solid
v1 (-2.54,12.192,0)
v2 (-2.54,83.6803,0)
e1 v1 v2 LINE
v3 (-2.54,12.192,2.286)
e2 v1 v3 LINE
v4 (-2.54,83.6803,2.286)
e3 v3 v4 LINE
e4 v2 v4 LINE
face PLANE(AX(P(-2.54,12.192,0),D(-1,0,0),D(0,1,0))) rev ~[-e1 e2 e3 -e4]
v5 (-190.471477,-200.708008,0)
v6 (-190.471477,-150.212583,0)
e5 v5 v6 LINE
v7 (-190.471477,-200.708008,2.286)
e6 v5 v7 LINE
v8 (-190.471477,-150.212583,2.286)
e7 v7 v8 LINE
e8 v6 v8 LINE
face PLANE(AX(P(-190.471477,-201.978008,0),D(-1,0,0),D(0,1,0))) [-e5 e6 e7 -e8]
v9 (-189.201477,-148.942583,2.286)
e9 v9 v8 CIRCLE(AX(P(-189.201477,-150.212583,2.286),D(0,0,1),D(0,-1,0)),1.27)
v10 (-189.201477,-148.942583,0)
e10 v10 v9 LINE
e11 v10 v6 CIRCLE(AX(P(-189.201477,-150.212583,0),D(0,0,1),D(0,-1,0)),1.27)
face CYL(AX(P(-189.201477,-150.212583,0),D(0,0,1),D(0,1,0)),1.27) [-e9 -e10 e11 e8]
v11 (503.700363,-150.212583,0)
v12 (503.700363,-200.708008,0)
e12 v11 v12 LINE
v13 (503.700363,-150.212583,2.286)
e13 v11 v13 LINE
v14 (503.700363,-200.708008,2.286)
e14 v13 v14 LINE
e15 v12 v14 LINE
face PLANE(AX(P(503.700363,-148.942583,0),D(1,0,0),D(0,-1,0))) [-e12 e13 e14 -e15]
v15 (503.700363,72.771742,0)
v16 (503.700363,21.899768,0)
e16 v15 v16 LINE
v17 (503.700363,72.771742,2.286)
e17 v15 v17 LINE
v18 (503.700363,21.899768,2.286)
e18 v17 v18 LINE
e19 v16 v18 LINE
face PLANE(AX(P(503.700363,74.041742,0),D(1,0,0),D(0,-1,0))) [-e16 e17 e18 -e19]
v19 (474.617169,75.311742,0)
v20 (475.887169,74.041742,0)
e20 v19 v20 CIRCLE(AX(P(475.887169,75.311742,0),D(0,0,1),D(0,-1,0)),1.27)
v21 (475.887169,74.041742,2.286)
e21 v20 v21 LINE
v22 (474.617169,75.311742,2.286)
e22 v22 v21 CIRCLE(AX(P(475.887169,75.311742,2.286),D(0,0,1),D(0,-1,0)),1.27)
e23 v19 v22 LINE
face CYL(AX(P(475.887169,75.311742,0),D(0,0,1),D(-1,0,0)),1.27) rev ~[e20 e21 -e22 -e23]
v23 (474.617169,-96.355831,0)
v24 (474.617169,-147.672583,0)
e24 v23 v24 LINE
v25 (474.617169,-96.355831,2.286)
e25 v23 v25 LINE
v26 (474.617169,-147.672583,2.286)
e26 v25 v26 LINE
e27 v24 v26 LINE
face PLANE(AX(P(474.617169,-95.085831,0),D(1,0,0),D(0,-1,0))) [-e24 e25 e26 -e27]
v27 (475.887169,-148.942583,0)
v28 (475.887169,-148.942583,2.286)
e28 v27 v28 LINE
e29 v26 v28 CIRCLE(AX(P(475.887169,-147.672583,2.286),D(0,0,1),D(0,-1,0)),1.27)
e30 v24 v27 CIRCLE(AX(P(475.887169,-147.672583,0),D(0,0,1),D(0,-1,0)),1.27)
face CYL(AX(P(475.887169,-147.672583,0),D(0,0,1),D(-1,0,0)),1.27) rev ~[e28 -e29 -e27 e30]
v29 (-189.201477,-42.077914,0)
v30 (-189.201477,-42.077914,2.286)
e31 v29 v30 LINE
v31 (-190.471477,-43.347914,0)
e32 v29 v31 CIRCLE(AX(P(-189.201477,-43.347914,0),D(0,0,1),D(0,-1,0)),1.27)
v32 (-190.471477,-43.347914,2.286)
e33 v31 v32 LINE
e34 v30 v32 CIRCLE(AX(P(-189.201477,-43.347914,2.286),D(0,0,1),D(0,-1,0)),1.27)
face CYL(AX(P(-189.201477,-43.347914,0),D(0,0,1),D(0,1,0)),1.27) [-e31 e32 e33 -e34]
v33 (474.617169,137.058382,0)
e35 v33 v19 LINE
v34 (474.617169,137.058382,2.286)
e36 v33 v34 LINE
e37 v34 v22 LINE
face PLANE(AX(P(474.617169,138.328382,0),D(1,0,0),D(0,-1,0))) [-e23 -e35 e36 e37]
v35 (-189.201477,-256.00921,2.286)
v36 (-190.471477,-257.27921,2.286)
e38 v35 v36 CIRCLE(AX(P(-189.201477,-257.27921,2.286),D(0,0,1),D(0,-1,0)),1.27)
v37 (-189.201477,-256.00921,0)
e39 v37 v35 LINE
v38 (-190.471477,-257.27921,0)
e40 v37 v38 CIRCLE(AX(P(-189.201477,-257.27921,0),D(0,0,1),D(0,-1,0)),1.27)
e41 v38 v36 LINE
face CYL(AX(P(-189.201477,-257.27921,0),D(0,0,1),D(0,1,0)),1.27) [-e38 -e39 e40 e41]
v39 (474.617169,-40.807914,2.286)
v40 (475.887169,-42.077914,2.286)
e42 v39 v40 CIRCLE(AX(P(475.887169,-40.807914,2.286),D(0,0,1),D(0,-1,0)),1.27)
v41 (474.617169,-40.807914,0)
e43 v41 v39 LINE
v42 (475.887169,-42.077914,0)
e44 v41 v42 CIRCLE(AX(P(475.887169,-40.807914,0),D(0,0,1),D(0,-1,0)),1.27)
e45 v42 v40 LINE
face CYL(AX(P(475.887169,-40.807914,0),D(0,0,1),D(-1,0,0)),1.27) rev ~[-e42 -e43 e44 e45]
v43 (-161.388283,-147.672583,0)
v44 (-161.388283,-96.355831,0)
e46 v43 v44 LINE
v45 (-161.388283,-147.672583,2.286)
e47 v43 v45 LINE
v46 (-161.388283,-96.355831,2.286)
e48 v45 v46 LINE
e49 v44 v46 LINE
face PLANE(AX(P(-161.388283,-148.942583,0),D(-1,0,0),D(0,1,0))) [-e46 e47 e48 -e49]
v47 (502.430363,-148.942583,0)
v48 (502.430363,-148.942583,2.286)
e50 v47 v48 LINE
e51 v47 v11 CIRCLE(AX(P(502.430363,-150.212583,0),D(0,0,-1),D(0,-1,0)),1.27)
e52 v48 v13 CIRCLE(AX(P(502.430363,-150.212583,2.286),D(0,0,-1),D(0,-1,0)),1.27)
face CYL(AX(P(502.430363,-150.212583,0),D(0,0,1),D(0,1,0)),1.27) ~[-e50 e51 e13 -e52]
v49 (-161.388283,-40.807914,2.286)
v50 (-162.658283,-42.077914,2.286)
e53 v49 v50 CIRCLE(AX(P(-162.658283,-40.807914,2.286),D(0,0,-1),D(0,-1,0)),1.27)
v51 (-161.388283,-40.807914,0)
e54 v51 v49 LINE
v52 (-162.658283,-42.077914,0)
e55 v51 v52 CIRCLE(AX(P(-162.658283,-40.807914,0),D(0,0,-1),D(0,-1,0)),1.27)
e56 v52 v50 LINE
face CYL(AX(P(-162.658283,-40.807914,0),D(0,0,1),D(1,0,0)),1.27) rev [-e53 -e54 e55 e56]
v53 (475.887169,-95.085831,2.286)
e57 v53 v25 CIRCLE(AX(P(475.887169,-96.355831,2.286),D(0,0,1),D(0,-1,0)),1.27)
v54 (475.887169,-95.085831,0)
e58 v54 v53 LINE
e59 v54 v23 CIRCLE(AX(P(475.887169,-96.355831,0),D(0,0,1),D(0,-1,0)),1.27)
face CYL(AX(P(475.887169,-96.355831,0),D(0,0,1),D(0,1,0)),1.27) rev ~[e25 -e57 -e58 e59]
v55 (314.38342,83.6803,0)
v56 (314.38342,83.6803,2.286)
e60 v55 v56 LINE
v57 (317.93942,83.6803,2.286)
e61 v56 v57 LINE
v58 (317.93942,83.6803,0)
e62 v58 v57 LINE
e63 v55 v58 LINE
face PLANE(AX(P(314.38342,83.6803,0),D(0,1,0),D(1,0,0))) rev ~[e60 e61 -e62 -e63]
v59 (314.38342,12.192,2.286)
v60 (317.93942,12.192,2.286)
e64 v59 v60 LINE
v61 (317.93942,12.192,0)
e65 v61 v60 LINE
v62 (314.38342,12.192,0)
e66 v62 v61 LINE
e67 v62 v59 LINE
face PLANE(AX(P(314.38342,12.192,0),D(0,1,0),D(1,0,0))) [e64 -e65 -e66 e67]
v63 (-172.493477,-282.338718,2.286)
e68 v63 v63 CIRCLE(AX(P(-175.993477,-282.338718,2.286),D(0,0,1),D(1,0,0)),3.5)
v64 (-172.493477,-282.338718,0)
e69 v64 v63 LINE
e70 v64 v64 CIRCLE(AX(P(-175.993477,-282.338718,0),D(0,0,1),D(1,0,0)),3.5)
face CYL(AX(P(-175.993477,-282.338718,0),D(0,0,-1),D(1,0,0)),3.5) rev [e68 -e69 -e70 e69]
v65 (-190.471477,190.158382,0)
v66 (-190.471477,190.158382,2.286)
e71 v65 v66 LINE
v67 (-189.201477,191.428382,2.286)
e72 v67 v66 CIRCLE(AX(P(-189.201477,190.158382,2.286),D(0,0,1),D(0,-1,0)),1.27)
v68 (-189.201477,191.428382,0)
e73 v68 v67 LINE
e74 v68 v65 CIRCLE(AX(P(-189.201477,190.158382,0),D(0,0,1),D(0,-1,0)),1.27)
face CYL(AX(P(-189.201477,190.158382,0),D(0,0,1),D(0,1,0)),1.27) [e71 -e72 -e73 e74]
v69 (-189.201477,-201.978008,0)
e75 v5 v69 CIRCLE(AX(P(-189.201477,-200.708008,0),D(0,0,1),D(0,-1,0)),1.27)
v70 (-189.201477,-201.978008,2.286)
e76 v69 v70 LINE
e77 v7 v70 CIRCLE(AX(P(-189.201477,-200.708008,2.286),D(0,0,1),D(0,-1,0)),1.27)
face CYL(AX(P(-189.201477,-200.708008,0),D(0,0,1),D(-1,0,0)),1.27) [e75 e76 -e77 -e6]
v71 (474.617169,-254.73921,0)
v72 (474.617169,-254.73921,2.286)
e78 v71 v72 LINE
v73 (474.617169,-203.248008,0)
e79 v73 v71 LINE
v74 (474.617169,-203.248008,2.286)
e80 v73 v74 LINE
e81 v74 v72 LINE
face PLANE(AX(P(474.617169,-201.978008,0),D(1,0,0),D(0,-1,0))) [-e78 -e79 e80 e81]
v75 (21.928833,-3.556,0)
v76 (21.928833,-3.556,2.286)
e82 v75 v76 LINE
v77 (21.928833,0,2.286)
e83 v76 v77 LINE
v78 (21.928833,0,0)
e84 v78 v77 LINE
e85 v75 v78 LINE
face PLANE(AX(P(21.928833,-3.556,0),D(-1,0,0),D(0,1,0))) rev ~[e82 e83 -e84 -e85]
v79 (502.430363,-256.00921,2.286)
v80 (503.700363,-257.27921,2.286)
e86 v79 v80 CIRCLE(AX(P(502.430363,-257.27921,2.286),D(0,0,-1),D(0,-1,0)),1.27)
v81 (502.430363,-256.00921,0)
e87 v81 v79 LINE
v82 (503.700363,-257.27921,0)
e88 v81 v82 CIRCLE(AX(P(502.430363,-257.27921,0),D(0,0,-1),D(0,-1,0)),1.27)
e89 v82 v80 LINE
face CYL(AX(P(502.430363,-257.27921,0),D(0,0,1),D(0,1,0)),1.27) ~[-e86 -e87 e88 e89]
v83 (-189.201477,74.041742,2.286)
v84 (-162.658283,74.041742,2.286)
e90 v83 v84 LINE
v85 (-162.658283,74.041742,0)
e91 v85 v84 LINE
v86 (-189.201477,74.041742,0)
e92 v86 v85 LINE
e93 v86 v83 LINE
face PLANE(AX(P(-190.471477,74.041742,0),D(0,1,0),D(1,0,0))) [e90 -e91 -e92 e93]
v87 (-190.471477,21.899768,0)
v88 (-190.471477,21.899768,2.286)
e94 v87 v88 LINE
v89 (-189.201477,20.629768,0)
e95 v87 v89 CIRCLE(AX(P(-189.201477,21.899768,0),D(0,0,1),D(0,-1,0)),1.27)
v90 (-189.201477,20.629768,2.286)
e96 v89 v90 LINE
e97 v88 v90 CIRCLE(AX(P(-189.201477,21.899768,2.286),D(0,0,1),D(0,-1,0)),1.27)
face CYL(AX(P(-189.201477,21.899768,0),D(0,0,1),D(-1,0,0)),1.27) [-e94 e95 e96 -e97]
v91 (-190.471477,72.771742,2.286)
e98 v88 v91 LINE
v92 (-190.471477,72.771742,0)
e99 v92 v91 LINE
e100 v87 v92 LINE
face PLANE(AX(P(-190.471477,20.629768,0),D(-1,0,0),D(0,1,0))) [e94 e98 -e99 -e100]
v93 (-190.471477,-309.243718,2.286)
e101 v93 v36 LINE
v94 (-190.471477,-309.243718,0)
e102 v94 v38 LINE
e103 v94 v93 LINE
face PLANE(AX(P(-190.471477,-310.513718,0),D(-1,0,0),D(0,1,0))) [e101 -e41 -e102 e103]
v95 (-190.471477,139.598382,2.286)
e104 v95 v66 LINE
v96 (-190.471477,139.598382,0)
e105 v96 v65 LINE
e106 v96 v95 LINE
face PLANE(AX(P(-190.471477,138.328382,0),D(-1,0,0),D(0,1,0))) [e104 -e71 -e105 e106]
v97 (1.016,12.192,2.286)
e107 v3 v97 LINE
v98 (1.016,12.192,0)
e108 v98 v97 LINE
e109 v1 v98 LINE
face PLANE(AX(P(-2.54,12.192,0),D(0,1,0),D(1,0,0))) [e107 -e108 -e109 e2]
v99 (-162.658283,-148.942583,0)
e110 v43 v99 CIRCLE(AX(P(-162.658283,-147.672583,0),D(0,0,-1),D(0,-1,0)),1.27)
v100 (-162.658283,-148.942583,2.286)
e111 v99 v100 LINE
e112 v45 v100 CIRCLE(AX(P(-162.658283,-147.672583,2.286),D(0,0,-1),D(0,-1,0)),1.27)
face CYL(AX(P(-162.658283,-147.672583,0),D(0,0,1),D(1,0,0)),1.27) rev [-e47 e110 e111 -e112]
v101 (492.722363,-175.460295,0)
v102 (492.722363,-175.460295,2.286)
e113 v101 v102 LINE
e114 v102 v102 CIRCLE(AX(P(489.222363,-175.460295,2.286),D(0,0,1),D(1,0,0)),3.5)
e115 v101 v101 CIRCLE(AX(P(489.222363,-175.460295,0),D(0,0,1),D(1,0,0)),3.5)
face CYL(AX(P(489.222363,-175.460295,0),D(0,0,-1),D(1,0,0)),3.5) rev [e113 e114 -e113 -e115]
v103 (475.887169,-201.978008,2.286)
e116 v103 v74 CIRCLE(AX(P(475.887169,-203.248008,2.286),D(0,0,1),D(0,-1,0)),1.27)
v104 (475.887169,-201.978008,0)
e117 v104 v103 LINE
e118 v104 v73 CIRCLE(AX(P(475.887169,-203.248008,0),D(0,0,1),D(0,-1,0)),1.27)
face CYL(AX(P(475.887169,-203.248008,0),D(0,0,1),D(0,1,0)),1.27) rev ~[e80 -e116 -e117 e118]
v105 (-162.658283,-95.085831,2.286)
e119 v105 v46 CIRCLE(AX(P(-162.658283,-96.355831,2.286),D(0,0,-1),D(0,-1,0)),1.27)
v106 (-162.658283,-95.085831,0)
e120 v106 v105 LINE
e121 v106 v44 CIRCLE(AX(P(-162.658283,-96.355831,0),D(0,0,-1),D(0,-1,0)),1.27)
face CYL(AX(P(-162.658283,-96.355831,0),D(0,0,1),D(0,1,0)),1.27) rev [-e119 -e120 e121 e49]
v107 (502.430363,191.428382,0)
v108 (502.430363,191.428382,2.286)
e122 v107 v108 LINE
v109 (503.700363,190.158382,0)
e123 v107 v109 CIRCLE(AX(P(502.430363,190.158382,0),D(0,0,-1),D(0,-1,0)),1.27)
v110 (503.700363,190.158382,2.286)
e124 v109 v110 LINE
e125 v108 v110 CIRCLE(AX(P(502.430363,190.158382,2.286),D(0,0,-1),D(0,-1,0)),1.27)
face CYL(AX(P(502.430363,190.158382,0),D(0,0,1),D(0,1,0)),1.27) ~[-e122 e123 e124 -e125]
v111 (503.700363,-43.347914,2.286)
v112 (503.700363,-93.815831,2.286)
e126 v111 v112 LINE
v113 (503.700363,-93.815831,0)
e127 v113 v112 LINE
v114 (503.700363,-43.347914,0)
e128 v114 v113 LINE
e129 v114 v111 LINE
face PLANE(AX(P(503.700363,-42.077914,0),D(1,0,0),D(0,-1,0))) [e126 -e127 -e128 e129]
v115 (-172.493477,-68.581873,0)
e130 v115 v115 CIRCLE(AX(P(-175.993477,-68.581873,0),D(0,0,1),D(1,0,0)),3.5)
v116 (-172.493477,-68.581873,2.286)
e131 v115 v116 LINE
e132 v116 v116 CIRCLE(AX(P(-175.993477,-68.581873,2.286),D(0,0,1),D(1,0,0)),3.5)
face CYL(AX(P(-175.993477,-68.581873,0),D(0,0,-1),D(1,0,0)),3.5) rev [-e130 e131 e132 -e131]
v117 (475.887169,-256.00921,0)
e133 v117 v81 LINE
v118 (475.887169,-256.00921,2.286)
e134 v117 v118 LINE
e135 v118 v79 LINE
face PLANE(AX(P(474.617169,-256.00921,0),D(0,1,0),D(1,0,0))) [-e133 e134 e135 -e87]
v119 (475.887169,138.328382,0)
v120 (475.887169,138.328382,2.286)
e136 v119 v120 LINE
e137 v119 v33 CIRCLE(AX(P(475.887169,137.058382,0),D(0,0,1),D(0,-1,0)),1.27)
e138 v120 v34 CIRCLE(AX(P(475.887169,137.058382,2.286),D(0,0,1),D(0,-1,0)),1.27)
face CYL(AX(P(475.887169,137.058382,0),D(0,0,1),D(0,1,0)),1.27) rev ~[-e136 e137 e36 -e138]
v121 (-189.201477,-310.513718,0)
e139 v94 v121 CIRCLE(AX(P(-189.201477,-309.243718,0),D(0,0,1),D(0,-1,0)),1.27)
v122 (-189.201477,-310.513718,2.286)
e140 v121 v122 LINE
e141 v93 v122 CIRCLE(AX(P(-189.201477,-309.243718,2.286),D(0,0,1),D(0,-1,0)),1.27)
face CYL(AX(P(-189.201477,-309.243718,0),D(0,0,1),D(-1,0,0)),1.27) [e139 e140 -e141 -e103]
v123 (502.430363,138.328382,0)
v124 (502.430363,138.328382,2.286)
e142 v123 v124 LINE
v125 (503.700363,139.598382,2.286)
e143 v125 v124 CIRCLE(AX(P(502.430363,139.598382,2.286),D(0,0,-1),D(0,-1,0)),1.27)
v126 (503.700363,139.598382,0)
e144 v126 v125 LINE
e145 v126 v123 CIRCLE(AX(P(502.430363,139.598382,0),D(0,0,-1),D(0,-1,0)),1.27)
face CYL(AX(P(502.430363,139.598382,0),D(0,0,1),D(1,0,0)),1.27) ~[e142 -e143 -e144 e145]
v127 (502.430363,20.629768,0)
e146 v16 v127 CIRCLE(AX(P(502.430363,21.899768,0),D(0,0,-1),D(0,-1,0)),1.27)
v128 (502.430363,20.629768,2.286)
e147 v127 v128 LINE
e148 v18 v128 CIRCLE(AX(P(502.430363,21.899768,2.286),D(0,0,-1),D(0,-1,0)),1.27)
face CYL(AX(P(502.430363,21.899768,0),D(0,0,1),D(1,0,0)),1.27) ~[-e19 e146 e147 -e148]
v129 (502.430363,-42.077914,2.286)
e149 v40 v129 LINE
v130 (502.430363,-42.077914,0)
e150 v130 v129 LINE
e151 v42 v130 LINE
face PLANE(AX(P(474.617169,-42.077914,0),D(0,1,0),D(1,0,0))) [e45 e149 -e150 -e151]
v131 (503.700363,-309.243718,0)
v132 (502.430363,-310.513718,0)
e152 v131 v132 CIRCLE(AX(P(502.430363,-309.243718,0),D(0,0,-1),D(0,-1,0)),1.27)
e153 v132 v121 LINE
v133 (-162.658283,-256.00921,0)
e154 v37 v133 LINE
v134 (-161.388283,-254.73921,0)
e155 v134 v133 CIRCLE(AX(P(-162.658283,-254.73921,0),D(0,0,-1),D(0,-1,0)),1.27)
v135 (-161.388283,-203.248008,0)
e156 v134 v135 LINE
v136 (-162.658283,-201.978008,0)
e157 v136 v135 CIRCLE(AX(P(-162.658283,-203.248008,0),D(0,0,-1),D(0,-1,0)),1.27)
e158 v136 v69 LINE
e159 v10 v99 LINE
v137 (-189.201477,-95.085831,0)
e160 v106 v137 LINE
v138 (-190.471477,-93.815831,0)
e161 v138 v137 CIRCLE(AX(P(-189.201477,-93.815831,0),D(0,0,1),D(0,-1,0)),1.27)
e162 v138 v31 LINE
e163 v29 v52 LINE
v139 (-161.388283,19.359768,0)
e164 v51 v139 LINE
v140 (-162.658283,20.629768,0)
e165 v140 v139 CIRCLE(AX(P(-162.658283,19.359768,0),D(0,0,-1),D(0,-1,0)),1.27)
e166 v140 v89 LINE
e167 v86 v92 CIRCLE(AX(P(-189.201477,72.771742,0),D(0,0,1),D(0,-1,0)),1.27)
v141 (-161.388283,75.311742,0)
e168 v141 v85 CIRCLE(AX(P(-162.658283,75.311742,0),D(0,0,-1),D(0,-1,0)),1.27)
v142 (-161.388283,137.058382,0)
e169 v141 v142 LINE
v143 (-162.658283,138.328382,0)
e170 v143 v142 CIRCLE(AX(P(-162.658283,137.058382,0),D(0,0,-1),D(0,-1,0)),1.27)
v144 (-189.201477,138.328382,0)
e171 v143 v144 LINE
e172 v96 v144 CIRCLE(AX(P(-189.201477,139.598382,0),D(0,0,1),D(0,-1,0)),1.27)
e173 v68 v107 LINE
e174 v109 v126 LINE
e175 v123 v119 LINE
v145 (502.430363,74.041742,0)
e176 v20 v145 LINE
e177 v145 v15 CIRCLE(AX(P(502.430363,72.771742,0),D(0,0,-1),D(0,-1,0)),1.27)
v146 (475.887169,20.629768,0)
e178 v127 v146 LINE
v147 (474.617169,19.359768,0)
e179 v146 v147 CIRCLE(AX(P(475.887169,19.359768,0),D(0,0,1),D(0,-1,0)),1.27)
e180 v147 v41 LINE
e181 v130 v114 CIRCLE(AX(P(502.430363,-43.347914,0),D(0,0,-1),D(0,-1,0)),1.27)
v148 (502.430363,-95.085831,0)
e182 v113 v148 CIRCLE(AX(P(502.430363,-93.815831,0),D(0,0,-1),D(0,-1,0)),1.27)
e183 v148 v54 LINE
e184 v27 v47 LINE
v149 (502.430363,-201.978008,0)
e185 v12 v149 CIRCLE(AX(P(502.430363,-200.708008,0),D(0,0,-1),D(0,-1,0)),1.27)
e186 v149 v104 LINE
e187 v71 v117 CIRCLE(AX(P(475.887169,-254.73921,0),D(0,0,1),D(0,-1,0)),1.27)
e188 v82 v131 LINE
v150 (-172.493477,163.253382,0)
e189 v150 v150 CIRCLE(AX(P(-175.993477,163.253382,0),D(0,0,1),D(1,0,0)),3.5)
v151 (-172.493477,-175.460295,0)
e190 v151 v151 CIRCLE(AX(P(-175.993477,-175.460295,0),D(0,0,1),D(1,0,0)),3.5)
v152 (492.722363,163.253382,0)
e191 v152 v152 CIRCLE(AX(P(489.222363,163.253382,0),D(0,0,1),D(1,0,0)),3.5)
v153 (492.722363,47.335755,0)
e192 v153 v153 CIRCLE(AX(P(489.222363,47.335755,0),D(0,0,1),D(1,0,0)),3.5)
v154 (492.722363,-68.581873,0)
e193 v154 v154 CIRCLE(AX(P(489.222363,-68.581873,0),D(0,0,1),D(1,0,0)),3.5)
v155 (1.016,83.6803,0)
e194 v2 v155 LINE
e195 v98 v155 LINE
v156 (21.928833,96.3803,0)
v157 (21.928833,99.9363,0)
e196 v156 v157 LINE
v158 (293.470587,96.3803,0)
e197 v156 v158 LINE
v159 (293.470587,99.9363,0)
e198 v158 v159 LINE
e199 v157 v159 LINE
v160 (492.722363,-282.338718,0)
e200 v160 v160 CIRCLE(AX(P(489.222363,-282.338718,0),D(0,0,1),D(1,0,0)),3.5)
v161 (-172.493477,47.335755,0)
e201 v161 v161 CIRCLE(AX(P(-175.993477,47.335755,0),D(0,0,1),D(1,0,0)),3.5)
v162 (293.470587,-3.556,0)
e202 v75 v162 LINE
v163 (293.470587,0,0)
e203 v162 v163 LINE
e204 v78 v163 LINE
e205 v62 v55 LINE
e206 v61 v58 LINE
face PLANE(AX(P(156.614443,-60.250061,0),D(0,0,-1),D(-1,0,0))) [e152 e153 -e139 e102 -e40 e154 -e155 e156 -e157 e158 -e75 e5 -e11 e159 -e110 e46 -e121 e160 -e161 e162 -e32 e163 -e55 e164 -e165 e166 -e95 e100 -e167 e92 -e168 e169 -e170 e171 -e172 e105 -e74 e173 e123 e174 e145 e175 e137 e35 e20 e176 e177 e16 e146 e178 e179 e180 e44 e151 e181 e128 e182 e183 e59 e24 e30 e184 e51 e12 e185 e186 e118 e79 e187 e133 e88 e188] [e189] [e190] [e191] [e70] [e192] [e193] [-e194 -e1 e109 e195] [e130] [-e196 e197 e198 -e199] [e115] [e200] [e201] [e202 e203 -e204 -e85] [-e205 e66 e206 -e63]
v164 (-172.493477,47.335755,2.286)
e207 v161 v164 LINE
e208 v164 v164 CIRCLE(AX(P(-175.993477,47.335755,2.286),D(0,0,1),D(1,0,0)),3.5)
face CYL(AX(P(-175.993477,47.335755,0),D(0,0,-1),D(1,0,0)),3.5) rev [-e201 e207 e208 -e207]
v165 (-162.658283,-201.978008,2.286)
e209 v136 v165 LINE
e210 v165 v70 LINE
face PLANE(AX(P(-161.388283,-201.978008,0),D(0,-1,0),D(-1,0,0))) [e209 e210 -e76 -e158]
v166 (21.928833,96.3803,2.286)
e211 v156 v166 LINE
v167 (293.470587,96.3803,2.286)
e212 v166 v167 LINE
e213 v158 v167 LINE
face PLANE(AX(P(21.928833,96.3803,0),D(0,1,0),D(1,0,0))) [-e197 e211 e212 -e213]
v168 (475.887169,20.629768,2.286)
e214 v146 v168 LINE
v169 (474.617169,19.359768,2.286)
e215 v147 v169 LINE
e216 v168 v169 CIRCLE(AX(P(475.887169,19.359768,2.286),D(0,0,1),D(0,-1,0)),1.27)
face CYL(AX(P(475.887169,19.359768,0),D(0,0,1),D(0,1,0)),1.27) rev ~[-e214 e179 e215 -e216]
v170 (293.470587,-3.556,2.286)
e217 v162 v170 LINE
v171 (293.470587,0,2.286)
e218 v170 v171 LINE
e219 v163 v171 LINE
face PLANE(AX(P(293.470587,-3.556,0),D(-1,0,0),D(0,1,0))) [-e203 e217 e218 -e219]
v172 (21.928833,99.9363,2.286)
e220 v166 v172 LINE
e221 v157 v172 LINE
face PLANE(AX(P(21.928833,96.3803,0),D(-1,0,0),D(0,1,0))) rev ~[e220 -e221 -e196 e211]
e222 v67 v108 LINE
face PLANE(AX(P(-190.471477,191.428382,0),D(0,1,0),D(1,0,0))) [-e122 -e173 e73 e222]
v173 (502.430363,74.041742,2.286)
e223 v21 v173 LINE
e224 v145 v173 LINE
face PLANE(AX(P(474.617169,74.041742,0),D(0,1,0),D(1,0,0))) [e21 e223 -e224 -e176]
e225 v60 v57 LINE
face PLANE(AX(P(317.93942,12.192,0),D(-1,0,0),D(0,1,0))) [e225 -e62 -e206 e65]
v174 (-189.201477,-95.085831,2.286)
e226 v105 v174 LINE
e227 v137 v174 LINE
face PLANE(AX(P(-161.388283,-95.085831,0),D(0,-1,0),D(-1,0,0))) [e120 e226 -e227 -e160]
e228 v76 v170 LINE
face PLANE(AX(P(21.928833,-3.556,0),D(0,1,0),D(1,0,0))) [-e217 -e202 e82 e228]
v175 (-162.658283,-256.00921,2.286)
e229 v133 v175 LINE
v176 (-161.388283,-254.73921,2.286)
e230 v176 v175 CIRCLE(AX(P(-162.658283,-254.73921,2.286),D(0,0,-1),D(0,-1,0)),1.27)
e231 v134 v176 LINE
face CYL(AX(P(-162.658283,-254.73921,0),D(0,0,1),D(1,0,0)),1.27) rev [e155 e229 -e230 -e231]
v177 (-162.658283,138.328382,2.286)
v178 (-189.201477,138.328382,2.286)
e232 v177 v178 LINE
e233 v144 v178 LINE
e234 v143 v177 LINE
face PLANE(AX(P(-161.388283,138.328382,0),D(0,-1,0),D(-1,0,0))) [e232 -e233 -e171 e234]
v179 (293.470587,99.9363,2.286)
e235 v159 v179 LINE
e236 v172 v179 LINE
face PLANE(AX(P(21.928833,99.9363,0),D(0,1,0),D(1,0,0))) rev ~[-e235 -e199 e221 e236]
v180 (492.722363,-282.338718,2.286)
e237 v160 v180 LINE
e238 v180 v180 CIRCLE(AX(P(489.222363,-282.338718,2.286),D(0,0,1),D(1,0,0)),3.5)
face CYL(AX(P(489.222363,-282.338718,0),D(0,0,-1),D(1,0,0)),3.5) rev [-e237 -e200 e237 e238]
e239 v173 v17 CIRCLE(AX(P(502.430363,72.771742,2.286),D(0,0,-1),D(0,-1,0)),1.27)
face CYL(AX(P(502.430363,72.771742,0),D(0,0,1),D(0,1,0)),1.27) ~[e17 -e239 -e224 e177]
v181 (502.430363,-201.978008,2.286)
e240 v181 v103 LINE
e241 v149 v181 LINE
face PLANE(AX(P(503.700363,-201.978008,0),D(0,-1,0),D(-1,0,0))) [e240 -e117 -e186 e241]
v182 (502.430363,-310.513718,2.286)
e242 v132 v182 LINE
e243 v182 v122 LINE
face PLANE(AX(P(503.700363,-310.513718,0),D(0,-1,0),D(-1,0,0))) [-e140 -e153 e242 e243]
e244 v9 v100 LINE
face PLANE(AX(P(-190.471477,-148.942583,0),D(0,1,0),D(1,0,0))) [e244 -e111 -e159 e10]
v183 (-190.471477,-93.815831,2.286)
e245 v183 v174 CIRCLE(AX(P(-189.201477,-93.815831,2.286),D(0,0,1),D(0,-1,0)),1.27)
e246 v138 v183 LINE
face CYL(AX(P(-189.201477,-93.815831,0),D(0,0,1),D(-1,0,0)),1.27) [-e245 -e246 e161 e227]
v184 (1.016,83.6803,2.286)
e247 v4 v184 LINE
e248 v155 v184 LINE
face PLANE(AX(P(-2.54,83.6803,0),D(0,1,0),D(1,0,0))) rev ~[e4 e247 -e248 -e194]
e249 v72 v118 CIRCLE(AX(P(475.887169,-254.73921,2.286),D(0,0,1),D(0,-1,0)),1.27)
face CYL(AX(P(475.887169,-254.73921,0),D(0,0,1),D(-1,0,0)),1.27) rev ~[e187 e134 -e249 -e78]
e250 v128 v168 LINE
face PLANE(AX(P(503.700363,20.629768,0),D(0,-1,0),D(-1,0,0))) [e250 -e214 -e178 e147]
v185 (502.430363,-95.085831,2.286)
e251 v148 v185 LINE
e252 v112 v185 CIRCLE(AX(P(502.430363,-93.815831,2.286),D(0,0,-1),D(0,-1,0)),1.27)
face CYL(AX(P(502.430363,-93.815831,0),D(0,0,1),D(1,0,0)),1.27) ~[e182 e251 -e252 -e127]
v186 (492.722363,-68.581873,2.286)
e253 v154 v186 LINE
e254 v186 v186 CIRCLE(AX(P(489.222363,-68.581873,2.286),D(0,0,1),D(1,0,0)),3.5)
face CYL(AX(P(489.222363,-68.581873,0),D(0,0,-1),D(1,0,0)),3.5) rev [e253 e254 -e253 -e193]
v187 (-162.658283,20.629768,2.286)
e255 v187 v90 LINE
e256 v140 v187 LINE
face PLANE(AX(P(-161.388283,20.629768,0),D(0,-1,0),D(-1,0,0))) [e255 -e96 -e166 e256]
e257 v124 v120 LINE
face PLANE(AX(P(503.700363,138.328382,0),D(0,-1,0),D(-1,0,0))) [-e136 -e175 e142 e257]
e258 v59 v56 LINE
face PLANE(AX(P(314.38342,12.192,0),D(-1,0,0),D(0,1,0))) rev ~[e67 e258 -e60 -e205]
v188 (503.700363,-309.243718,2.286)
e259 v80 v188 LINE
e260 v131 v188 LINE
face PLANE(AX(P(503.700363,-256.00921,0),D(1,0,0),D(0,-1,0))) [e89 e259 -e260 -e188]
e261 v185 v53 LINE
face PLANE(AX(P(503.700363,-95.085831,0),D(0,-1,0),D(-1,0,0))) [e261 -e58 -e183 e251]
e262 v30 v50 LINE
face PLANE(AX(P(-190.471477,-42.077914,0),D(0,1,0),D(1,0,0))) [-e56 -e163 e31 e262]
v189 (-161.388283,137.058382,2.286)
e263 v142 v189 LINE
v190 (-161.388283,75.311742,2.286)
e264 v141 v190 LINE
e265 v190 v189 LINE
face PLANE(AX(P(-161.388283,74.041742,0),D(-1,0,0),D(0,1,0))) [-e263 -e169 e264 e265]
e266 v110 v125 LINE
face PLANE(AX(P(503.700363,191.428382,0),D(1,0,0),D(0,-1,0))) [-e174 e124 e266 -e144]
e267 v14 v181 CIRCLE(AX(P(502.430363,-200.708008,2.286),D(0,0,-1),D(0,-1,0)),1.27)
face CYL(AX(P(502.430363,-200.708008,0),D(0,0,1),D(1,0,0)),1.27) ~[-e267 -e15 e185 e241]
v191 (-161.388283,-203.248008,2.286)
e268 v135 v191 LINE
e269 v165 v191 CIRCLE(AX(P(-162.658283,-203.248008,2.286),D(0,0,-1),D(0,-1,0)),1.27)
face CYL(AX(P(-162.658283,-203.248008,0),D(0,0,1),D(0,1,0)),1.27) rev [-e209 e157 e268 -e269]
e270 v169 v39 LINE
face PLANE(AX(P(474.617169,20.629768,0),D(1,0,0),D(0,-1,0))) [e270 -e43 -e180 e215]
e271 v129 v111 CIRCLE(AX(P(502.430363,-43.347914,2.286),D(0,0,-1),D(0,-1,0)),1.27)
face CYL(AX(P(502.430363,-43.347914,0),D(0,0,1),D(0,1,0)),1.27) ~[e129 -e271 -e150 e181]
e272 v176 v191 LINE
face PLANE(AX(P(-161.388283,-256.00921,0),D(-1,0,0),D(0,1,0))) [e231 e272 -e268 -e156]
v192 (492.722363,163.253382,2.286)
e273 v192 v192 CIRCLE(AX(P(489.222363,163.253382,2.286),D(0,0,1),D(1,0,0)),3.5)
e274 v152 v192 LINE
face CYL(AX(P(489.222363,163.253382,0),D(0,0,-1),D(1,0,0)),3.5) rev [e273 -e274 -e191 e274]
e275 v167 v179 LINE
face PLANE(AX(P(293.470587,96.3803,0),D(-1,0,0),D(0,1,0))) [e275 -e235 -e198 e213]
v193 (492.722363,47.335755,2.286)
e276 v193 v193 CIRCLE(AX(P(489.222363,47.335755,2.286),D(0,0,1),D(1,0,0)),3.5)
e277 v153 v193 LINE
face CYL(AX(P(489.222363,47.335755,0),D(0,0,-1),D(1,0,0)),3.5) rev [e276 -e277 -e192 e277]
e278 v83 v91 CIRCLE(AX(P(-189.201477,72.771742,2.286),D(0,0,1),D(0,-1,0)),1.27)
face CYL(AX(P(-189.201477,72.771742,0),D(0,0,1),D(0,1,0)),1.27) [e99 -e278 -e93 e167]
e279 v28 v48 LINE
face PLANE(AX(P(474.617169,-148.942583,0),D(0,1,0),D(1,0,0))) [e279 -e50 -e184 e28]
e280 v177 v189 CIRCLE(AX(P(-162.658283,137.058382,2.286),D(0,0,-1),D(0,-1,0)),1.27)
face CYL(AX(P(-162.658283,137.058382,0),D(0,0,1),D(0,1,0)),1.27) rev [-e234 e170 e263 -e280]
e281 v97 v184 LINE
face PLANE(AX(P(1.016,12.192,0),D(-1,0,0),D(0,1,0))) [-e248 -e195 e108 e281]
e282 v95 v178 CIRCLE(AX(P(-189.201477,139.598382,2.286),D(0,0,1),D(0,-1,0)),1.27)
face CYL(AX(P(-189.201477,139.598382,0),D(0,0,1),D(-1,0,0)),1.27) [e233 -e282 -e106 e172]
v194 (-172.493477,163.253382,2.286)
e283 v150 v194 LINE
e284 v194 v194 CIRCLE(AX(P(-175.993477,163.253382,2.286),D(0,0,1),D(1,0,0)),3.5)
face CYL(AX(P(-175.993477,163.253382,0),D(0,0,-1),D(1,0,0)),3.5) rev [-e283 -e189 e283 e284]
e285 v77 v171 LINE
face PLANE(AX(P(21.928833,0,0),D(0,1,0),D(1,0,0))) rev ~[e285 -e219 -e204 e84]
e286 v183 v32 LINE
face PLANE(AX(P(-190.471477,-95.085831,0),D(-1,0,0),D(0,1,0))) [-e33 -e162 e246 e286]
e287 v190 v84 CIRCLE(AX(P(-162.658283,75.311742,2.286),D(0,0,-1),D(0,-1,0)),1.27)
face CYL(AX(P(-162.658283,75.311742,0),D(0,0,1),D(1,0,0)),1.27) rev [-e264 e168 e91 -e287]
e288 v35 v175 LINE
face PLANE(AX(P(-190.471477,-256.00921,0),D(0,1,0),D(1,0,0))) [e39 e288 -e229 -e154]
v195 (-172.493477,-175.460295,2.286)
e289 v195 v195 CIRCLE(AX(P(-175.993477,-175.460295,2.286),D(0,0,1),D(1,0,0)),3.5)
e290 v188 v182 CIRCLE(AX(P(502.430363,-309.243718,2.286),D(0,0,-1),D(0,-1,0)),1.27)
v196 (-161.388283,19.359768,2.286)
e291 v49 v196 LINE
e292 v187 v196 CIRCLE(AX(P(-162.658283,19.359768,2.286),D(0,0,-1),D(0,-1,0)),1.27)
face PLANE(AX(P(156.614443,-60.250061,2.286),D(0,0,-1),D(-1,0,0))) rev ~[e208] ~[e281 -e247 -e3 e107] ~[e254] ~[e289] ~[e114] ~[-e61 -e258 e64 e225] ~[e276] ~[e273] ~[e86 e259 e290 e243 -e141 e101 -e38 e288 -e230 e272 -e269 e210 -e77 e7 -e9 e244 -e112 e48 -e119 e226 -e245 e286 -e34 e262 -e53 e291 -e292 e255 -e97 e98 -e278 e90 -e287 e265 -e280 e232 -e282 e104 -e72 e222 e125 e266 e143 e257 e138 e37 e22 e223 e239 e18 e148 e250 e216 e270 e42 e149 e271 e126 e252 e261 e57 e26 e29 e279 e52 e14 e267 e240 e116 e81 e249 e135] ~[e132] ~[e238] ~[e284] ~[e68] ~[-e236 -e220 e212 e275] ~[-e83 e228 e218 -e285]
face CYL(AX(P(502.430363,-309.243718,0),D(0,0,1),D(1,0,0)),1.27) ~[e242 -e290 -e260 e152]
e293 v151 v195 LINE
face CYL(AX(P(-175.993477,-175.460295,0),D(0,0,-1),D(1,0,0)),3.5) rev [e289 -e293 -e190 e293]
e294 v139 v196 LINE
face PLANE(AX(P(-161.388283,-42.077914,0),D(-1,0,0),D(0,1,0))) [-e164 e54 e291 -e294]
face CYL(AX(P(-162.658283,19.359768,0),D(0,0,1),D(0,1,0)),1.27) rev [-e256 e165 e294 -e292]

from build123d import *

# Parameters (mm, degrees)
SKETCH1_R           = 3.5
SKETCH1_W           = 271.54175435
SKETCH1_H           = 3.556
SKETCH1_W_2         = 3.556
SKETCH1_H_2         = 71.4883
BOSS_EXTRUDE1_DEPTH = 2.286
FILLET1_R           = 1.27


with BuildPart() as part:
    # Sketch1 → Boss-Extrude1 (new body)
    with BuildSketch(Plane.XY):
        Polygon((-190.471476969, 191.42838219), (503.700363031, 191.42838219), (503.700363031, 138.32838219), (474.617169309, 138.32838219), (474.617169309, 74.041741872), (503.700363031, 74.041741872), (503.700363031, 20.629767615), (474.617169309, 20.629767615), (474.617169309, -42.077913962), (503.700363031, -42.077913962), (503.700363031, -95.085831367), (474.617169309, -95.085831367), (474.617169309, -148.942582796), (503.700363031, -148.942582796), (503.700363031, -201.978007641), (474.617169309, -201.978007641), (474.617169309, -256.009209725), (503.700363031, -256.009209725), (503.700363031, -310.51371781), (-190.471476969, -310.51371781), (-190.471476969, -256.009209725), (-161.388283246, -256.009209725), (-161.388283246, -201.978007641), (-190.471476969, -201.978007641), (-190.471476969, -148.942582796), (-161.388283246, -148.942582796), (-161.388283246, -95.085831367), (-190.471476969, -95.085831367), (-190.471476969, -42.077913962), (-161.388283246, -42.077913962), (-161.388283246, 20.629767615), (-190.471476969, 20.629767615), (-190.471476969, 74.041741872), (-161.388283246, 74.041741872), (-161.388283246, 138.32838219), (-190.471476969, 138.32838219), align=None)
        with Locations((-175.993476969, 163.253382152)):
            Circle(SKETCH1_R, mode=Mode.SUBTRACT)
        with Locations((-175.993476969, 47.335754744)):
            Circle(SKETCH1_R, mode=Mode.SUBTRACT)
        with Locations((-175.993476969, -68.581872664)):
            Circle(SKETCH1_R, mode=Mode.SUBTRACT)
        with Locations((-175.993476969, -175.460295218)):
            Circle(SKETCH1_R, mode=Mode.SUBTRACT)
        with Locations((-175.993476969, -282.338717772)):
            Circle(SKETCH1_R, mode=Mode.SUBTRACT)
        with Locations((489.222363031, 163.253382152)):
            Circle(SKETCH1_R, mode=Mode.SUBTRACT)
        with Locations((489.222363031, 47.335754744)):
            Circle(SKETCH1_R, mode=Mode.SUBTRACT)
        with Locations((489.222363031, -68.581872664)):
            Circle(SKETCH1_R, mode=Mode.SUBTRACT)
        with Locations((489.222363031, -175.460295218)):
            Circle(SKETCH1_R, mode=Mode.SUBTRACT)
        with Locations((489.222363031, -282.338717772)):
            Circle(SKETCH1_R, mode=Mode.SUBTRACT)
        with Locations((157.69971, 98.1583)):
            Rectangle(SKETCH1_W, SKETCH1_H, mode=Mode.SUBTRACT)
        with Locations((-0.762, 47.93615)):
            Rectangle(SKETCH1_W_2, SKETCH1_H_2, mode=Mode.SUBTRACT)
        with Locations((316.16142, 47.93615)):
            Rectangle(SKETCH1_W_2, SKETCH1_H_2, mode=Mode.SUBTRACT)
        with Locations((157.69971, -1.778)):
            Rectangle(SKETCH1_W, SKETCH1_H, mode=Mode.SUBTRACT)
    extrude(amount=BOSS_EXTRUDE1_DEPTH)

    # Fillet1
    fillet1_edges = [part.edges().sort_by_distance(p)[0] for p in [
        (-161.388283246, 74.041741872, 1.143),
        (-161.388283246, 138.32838219, 1.143),
        (-190.471476969, 138.32838219, 1.143),
        (-190.471476969, 191.42838219, 1.143),
        (503.700363031, 191.42838219, 1.143),
        (503.700363031, 138.32838219, 1.143),
        (474.617169309, 138.32838219, 1.143),
        (474.617169309, 74.041741872, 1.143),
        (503.700363031, 74.041741872, 1.143),
        (503.700363031, 20.629767615, 1.143),
        (474.617169309, 20.629767615, 1.143),
        (474.617169309, -42.077913962, 1.143),
        (503.700363031, -42.077913962, 1.143),
        (503.700363031, -95.085831367, 1.143),
        (474.617169309, -95.085831367, 1.143),
        (474.617169309, -148.942582796, 1.143),
        (503.700363031, -148.942582796, 1.143),
        (503.700363031, -201.978007641, 1.143),
        (474.617169309, -201.978007641, 1.143),
        (474.617169309, -256.009209725, 1.143),
        (503.700363031, -256.009209725, 1.143),
        (503.700363031, -310.51371781, 1.143),
        (-190.471476969, -310.51371781, 1.143),
        (-190.471476969, -256.009209725, 1.143),
        (-161.388283246, -256.009209725, 1.143),
        (-161.388283246, -201.978007641, 1.143),
        (-190.471476969, -201.978007641, 1.143),
        (-190.471476969, -148.942582796, 1.143),
        (-161.388283246, -148.942582796, 1.143),
        (-161.388283246, -95.085831367, 1.143),
        (-190.471476969, -95.085831367, 1.143),
        (-190.471476969, -42.077913962, 1.143),
        (-161.388283246, -42.077913962, 1.143),
        (-161.388283246, 20.629767615, 1.143),
        (-190.471476969, 20.629767615, 1.143),
        (-190.471476969, 74.041741872, 1.143),
    ]]
    fillet(fillet1_edges, radius=FILLET1_R)


solid = part.part
